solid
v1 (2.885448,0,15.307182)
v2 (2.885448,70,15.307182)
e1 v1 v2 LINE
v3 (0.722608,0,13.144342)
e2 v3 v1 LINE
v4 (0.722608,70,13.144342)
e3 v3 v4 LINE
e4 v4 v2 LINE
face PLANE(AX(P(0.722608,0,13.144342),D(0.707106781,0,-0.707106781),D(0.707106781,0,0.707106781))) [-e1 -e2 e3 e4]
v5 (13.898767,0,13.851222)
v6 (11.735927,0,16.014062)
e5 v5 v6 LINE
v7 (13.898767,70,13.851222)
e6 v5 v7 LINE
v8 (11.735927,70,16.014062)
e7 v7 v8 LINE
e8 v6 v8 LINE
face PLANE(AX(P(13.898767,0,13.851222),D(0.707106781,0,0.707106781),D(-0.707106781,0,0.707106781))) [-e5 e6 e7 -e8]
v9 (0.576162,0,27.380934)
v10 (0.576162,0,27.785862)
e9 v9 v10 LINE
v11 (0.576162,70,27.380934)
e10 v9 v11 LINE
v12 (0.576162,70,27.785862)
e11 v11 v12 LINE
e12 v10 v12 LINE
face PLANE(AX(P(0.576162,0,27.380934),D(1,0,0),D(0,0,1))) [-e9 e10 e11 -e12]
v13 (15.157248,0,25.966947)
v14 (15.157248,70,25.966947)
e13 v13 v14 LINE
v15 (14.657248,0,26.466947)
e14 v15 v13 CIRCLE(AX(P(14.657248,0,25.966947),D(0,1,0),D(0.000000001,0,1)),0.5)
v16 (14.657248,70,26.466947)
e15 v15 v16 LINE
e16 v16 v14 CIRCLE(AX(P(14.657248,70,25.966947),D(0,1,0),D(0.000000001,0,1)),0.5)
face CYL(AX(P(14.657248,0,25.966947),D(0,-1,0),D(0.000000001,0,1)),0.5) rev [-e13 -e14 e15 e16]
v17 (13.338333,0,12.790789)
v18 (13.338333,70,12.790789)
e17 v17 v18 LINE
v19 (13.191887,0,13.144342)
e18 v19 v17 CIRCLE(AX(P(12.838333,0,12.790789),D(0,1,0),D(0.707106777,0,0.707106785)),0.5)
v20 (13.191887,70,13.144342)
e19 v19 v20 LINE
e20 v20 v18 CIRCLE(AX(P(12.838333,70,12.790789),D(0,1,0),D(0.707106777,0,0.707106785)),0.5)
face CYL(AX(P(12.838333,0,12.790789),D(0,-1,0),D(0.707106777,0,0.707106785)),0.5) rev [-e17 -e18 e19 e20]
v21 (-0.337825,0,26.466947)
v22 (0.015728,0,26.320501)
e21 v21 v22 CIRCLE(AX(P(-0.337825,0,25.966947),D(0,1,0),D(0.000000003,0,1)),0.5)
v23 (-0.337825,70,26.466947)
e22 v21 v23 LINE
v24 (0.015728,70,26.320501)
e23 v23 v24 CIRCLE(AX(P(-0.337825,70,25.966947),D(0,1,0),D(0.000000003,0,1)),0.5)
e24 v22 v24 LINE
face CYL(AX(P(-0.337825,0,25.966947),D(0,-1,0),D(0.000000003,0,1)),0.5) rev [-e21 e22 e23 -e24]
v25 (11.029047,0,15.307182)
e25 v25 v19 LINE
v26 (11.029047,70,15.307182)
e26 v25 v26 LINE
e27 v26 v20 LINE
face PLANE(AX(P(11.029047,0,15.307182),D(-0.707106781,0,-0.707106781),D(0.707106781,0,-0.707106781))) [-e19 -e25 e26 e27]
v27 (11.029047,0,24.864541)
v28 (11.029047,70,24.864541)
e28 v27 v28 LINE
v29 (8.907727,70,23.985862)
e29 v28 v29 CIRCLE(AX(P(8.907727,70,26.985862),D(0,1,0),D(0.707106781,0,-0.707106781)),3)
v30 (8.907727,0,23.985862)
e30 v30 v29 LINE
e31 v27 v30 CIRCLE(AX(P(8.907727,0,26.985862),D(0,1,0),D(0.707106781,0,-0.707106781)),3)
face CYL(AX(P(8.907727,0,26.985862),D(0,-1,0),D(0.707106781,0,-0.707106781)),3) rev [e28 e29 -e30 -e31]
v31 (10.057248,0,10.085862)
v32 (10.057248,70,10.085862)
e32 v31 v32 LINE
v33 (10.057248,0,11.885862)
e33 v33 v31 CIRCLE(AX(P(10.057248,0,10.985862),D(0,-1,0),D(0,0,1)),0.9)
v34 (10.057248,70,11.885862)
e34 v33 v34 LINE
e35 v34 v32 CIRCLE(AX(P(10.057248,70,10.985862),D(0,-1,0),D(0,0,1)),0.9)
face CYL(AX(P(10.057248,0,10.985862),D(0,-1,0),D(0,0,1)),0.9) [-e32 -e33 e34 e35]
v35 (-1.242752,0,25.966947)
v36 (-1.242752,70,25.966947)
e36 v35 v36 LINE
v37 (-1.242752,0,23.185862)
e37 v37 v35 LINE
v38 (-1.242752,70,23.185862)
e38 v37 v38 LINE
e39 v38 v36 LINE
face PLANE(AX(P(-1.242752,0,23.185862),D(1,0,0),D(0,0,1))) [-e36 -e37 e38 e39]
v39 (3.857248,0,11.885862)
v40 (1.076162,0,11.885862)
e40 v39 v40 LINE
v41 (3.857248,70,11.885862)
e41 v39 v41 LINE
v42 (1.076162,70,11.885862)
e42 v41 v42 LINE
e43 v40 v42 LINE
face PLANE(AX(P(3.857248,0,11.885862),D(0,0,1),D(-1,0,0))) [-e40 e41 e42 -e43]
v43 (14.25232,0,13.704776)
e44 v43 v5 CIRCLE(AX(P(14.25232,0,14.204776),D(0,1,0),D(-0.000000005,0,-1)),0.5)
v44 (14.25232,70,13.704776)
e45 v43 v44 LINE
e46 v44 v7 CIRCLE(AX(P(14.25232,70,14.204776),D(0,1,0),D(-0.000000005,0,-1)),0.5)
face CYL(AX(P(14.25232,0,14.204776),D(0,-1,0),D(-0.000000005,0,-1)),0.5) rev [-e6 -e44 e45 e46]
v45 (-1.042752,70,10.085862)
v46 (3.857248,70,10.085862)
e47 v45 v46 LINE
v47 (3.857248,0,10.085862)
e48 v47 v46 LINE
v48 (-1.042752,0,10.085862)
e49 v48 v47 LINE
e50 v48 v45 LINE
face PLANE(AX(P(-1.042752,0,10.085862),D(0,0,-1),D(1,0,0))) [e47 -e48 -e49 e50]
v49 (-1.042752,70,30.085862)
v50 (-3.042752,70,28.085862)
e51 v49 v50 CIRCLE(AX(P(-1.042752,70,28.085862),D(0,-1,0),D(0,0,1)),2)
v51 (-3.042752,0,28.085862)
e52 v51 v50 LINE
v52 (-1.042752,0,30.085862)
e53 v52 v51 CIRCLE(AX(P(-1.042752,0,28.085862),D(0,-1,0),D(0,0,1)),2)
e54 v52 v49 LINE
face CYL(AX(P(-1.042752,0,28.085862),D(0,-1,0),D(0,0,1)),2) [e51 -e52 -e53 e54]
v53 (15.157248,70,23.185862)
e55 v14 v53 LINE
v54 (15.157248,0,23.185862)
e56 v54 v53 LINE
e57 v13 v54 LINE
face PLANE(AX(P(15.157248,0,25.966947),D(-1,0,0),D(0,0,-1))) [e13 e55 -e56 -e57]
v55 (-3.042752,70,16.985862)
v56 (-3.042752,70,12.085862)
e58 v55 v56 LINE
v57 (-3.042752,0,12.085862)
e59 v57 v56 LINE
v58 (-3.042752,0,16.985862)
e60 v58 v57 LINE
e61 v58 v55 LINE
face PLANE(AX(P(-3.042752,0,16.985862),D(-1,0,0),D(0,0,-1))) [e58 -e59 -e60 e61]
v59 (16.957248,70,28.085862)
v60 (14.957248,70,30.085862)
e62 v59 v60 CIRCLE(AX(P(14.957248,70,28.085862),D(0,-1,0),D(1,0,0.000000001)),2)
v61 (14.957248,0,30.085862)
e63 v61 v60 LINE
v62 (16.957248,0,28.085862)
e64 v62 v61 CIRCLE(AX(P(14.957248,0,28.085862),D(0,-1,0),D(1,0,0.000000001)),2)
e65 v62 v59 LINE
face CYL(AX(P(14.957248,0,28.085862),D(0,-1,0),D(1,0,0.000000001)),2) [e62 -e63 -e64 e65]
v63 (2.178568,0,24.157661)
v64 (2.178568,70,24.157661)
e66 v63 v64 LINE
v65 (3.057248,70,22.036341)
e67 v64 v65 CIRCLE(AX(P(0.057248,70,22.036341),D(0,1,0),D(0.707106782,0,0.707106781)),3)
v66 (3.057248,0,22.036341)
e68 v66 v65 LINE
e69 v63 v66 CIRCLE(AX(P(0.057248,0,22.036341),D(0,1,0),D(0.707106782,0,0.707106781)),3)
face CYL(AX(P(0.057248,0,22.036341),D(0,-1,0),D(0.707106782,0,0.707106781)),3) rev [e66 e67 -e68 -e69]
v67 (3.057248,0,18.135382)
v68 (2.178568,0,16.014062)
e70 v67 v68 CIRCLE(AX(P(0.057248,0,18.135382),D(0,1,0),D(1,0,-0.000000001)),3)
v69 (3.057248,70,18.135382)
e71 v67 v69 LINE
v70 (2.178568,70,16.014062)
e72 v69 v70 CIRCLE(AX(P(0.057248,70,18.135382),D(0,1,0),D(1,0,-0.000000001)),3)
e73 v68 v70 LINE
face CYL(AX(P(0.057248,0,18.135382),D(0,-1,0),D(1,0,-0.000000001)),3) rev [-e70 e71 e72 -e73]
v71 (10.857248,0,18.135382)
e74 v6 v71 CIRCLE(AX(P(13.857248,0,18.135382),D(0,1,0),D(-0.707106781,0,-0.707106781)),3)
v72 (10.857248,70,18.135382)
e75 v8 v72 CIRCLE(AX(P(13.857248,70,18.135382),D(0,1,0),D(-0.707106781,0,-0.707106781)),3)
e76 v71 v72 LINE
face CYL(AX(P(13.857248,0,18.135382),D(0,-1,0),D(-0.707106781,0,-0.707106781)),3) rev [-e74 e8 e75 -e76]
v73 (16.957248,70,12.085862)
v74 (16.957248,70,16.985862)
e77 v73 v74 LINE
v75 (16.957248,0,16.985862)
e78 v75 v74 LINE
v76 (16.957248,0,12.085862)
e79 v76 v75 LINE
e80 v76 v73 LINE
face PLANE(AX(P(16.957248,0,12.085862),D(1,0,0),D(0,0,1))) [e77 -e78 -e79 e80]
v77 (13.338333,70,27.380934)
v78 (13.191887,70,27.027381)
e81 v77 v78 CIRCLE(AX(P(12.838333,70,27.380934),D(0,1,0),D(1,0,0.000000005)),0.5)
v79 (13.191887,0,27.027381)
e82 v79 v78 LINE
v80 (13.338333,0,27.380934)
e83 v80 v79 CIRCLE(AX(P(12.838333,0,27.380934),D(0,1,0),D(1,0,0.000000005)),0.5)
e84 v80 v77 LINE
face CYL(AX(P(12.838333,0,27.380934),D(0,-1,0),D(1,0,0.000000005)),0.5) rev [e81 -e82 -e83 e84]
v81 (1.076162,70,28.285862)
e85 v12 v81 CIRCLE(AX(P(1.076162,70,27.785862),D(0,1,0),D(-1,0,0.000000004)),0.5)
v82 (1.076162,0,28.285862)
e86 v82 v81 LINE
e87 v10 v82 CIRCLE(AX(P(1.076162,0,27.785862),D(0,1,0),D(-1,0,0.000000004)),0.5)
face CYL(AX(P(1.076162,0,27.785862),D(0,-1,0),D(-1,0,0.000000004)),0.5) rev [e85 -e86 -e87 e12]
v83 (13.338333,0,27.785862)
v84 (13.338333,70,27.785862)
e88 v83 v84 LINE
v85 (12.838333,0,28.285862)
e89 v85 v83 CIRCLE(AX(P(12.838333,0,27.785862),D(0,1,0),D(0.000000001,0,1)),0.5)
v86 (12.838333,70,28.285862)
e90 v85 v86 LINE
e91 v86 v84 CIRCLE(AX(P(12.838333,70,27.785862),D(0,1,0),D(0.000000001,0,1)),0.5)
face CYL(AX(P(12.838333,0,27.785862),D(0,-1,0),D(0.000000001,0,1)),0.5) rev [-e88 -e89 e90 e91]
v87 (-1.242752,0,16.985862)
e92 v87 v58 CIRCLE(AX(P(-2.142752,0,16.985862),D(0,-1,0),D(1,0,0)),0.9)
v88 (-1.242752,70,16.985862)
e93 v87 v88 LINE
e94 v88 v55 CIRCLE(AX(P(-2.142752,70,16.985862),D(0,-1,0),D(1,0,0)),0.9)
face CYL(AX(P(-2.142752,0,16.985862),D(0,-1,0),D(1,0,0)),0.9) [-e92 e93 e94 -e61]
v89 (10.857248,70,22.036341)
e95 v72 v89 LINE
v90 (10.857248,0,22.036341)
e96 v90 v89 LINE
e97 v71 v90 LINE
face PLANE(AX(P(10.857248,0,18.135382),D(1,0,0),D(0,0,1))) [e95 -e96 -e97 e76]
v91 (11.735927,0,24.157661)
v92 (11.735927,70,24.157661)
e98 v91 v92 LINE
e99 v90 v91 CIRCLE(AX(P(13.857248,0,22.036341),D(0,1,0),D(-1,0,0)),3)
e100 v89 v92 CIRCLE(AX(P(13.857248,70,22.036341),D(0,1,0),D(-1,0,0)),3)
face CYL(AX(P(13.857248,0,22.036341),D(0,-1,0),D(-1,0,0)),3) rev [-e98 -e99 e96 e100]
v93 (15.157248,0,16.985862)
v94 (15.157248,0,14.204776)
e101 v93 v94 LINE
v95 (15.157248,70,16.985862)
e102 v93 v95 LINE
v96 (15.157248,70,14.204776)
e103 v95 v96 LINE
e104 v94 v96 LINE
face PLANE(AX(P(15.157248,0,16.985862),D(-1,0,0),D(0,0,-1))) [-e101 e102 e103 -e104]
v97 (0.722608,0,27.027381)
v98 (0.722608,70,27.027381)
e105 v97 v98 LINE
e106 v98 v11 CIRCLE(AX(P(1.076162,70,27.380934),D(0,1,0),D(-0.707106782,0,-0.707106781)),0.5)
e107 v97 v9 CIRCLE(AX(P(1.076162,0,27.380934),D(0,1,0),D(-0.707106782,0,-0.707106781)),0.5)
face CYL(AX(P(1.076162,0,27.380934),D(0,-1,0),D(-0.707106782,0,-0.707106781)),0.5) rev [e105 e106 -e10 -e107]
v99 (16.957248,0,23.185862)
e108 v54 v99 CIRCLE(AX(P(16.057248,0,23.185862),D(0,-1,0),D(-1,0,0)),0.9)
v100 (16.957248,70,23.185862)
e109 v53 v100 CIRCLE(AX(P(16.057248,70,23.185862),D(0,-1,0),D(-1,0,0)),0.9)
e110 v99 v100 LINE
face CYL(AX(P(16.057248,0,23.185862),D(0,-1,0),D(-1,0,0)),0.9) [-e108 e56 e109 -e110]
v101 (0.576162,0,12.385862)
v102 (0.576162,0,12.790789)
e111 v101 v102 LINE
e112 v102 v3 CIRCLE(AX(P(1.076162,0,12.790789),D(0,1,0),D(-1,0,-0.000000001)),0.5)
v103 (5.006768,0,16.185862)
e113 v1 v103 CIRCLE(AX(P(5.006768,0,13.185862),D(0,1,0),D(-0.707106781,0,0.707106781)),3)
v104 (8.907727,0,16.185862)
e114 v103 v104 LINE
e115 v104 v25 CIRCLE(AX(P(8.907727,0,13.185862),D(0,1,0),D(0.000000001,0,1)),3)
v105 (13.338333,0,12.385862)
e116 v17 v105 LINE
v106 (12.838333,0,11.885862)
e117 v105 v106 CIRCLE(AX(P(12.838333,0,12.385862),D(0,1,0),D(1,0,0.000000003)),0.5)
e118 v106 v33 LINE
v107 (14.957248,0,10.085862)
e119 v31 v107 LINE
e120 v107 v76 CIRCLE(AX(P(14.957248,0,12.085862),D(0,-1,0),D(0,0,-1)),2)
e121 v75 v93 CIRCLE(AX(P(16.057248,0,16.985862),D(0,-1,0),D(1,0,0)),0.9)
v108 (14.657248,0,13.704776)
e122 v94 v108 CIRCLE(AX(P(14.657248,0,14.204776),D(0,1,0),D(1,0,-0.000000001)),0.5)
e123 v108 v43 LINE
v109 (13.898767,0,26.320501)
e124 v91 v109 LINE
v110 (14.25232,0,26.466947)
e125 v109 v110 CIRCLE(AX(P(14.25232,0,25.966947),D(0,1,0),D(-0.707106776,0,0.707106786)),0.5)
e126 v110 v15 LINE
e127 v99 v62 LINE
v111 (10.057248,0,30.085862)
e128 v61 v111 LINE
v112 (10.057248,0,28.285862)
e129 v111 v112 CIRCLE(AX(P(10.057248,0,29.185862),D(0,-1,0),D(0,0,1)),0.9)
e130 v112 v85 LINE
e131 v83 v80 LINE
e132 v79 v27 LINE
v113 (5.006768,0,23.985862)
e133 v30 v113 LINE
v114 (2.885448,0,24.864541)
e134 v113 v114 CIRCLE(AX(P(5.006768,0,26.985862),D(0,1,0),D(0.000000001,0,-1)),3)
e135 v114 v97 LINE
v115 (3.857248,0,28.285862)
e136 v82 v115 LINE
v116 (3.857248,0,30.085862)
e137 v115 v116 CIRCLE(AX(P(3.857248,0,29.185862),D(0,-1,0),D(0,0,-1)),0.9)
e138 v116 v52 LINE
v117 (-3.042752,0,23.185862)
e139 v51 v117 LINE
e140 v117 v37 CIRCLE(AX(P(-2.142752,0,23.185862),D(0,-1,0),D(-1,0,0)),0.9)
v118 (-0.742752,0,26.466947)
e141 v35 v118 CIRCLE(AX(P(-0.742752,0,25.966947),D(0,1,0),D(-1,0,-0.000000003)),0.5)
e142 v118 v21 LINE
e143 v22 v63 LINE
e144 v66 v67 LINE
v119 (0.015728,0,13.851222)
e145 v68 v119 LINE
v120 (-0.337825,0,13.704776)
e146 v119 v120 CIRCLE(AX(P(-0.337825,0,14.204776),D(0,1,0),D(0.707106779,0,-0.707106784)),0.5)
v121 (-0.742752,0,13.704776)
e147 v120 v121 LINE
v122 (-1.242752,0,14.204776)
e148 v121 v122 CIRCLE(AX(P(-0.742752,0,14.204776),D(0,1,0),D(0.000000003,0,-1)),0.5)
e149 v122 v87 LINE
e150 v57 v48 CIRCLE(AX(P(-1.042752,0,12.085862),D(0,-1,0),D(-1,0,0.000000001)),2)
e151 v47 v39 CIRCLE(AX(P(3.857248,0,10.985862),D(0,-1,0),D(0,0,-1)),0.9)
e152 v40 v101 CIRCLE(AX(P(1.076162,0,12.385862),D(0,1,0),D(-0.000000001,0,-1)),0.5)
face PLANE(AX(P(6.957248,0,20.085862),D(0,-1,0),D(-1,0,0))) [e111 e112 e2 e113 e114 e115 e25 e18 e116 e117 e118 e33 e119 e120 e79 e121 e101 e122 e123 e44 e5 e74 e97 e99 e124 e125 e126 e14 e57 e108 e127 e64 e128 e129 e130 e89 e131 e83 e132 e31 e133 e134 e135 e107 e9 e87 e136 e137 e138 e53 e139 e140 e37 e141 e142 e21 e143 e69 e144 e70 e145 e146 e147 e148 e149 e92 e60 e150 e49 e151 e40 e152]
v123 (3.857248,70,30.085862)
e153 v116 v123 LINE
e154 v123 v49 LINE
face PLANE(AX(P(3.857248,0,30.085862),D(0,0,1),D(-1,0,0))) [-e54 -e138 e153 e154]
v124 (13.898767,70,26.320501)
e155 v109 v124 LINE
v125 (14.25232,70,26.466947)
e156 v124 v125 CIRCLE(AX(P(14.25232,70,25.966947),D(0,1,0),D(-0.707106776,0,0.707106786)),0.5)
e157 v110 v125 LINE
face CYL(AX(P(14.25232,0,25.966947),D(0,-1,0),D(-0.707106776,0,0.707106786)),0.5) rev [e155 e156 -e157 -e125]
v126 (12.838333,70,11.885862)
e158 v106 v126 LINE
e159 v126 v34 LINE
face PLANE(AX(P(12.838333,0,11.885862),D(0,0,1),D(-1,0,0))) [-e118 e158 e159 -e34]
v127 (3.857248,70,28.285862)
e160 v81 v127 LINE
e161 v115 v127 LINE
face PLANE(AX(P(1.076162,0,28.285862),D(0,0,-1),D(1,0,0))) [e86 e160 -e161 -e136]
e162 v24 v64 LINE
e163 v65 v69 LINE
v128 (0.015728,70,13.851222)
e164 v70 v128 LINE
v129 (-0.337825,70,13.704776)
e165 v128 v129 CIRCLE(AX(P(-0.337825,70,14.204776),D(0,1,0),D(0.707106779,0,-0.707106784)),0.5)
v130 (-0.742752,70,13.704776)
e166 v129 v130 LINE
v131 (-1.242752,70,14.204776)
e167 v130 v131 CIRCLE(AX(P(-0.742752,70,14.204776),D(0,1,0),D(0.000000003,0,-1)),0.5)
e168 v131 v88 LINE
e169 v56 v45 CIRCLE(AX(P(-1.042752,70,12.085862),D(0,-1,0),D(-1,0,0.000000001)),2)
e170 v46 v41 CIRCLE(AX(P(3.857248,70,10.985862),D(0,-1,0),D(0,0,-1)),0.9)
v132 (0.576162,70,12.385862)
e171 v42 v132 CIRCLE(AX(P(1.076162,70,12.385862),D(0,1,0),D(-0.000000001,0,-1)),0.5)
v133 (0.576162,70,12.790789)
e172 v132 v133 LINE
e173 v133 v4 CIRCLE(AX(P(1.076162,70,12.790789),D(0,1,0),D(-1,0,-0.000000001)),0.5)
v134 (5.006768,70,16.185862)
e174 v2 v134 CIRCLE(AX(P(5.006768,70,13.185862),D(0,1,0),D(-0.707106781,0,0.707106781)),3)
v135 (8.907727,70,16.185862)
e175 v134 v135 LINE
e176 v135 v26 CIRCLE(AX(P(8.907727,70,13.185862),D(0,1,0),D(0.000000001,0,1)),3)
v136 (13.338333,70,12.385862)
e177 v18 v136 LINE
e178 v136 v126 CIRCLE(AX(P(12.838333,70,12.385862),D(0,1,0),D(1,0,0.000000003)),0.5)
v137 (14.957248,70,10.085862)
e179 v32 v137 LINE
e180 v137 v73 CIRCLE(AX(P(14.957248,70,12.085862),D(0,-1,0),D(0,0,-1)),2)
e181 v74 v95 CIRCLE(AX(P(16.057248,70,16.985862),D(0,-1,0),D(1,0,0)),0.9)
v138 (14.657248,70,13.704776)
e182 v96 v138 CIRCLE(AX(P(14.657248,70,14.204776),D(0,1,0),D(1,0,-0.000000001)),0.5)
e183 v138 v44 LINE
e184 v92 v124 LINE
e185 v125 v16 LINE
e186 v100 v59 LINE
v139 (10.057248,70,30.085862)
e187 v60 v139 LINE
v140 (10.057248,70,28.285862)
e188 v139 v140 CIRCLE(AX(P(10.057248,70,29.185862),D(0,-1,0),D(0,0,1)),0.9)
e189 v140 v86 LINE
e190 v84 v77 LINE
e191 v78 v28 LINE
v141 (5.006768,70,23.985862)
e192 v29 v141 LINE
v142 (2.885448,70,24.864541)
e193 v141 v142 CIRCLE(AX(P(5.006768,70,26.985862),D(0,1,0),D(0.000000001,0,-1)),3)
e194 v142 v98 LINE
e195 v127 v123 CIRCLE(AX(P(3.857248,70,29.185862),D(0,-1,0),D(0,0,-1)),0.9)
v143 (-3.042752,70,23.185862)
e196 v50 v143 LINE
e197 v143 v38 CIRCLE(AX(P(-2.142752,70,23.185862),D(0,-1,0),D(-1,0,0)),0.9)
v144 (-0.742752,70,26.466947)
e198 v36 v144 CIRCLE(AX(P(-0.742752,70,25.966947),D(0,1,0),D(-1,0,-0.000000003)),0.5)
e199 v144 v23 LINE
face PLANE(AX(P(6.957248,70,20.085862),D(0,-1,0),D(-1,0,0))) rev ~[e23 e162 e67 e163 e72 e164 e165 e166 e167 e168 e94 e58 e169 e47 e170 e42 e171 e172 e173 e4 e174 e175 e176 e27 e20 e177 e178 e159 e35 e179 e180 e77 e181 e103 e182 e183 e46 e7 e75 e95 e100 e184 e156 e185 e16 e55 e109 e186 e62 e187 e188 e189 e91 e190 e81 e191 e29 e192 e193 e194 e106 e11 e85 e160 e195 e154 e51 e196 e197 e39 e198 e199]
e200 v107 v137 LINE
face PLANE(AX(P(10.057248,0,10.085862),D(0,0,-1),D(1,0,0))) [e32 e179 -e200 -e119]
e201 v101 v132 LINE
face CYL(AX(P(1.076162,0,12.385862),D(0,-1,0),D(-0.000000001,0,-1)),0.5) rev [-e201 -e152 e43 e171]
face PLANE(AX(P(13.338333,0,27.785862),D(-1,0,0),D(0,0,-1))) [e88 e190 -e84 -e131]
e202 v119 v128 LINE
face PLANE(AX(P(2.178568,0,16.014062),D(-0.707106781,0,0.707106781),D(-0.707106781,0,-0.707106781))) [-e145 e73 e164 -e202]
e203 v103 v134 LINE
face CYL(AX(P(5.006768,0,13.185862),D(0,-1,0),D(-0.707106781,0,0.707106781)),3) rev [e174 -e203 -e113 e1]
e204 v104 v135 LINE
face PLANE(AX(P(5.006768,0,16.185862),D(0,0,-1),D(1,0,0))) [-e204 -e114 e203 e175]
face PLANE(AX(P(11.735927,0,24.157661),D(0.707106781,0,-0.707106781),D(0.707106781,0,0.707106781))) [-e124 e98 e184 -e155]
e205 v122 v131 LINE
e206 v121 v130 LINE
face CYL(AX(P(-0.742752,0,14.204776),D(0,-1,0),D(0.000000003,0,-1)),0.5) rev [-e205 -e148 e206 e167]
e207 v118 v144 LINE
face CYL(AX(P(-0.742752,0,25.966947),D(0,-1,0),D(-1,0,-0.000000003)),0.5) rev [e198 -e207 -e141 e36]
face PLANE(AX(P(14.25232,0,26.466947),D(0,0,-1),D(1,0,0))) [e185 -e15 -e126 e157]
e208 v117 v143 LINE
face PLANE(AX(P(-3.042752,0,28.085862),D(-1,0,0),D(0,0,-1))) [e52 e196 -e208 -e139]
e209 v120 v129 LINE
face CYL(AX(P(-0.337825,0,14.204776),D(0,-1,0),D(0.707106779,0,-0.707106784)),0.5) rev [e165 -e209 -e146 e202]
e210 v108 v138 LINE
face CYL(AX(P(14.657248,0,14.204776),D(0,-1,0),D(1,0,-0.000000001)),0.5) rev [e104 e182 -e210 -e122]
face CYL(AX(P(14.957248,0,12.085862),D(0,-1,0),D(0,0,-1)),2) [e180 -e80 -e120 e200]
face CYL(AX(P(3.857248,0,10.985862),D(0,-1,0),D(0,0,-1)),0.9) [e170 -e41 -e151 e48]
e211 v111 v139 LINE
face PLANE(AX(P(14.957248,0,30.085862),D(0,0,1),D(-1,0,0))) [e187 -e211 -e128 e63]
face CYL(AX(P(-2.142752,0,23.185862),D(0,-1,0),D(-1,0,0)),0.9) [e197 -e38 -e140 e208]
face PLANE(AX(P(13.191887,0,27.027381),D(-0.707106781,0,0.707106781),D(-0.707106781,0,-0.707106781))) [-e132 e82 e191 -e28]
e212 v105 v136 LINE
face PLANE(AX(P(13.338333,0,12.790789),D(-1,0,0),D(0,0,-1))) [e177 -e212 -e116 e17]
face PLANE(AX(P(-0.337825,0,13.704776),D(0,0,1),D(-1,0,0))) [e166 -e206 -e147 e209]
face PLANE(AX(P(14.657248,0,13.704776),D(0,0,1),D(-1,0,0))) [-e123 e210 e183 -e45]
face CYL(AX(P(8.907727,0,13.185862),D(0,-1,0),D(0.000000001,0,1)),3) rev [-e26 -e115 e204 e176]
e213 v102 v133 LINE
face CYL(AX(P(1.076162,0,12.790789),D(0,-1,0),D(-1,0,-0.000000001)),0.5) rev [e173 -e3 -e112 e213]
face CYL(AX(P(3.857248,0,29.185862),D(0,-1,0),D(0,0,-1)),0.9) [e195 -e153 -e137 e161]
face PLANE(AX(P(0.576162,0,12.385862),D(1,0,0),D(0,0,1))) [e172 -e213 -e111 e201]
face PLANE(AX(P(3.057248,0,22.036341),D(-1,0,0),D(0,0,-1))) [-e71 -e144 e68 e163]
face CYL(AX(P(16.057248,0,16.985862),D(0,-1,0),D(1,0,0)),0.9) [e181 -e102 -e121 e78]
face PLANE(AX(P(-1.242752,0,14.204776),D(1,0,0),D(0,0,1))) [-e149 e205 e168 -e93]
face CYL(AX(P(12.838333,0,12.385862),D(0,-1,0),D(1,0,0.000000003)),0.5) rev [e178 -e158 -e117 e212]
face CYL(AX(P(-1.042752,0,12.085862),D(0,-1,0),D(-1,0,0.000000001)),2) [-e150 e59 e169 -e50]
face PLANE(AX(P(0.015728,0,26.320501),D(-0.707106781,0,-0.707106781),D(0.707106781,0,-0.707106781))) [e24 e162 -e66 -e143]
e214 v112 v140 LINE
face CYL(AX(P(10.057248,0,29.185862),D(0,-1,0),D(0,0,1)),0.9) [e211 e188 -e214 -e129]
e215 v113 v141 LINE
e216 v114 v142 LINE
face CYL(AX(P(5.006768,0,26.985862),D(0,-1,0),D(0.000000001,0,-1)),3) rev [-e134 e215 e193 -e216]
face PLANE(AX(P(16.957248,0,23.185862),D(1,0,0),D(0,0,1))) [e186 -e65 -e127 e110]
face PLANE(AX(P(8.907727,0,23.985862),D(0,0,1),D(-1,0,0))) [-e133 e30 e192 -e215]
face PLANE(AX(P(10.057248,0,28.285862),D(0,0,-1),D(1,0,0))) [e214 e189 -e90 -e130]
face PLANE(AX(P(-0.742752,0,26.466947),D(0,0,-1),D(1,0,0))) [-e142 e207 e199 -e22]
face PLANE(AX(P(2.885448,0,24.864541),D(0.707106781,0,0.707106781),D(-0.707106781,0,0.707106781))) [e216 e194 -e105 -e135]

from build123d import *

# Parameters (mm, degrees)
EXTRUDE_1_DEPTH = 70


with BuildPart() as part:
    # 草图1 → 凸台-拉伸1 (new body)
    with BuildSketch(Plane(origin=(0, 0, 0), x_dir=(1, 0, 0), z_dir=(0, 1, 0))):
        with BuildLine():
            Line((-1.042752475, -10.085861632), (3.857247525, -10.085861632))
            ThreePointArc((3.857247525, -10.085861632), (4.757247525, -10.985861632), (3.857247525, -11.885861632))
            Line((3.857247525, -11.885861632), (1.076161722, -11.885861632))
            ThreePointArc((1.076161722, -11.885861632), (0.722608332, -12.032308241), (0.576161722, -12.385861632))
            Line((0.576161722, -12.385861632), (0.576161722, -12.790788968))
            ThreePointArc((0.576161722, -12.790788968), (0.614221956, -12.982130685), (0.722608332, -13.144342359))
            Line((0.722608332, -13.144342359), (2.885447948, -15.307181975))
            ThreePointArc((2.885447948, -15.307181975), (3.858717994, -15.957500229), (5.006768291, -16.185861632))
            Line((5.006768291, -16.185861632), (8.907726758, -16.185861632))
            ThreePointArc((8.907726758, -16.185861632), (10.055777055, -15.957500229), (11.029047102, -15.307181975))
            Line((11.029047102, -15.307181975), (13.191886718, -13.144342359))
            ThreePointArc((13.191886718, -13.144342359), (13.300273094, -12.982130685), (13.338333327, -12.790788968))
            Line((13.338333327, -12.790788968), (13.338333327, -12.385861632))
            ThreePointArc((13.338333327, -12.385861632), (13.191886718, -12.032308241), (12.838333327, -11.885861632))
            Line((12.838333327, -11.885861632), (10.057247525, -11.885861632))
            ThreePointArc((10.057247525, -11.885861632), (9.157247525, -10.985861632), (10.057247525, -10.085861632))
            Line((10.057247525, -10.085861632), (14.957247525, -10.085861632))
            ThreePointArc((14.957247525, -10.085861632), (16.371461087, -10.671648069), (16.957247525, -12.085861632))
            Line((16.957247525, -12.085861632), (16.957247525, -16.985861632))
            ThreePointArc((16.957247525, -16.985861632), (16.057247525, -17.885861632), (15.157247525, -16.985861632))
            Line((15.157247525, -16.985861632), (15.157247525, -14.204775829))
            ThreePointArc((15.157247525, -14.204775829), (15.010800915, -13.851222438), (14.657247525, -13.704775829))
            Line((14.657247525, -13.704775829), (14.252320188, -13.704775829))
            ThreePointArc((14.252320188, -13.704775829), (14.060978472, -13.742836063), (13.898766797, -13.851222438))
            Line((13.898766797, -13.851222438), (11.735927181, -16.014062054))
            ThreePointArc((11.735927181, -16.014062054), (11.085608927, -16.987332101), (10.857247525, -18.135382398))
            Line((10.857247525, -18.135382398), (10.857247525, -22.036340865))
            ThreePointArc((10.857247525, -22.036340865), (11.085608927, -23.184391162), (11.735927181, -24.157661209))
            Line((11.735927181, -24.157661209), (13.898766797, -26.320500825))
            ThreePointArc((13.898766797, -26.320500825), (14.060978472, -26.4288872), (14.252320188, -26.466947434))
            Line((14.252320188, -26.466947434), (14.657247525, -26.466947434))
            ThreePointArc((14.657247525, -26.466947434), (15.010800915, -26.320500825), (15.157247525, -25.966947434))
            Line((15.157247525, -25.966947434), (15.157247525, -23.185861632))
            ThreePointArc((15.157247525, -23.185861632), (16.057247525, -22.285861632), (16.957247525, -23.185861632))
            Line((16.957247525, -23.185861632), (16.957247525, -28.085861632))
            ThreePointArc((16.957247525, -28.085861632), (16.371461087, -29.500075194), (14.957247525, -30.085861632))
            Line((14.957247525, -30.085861632), (10.057247525, -30.085861632))
            ThreePointArc((10.057247525, -30.085861632), (9.157247525, -29.185861632), (10.057247525, -28.285861632))
            Line((10.057247525, -28.285861632), (12.838333327, -28.285861632))
            ThreePointArc((12.838333327, -28.285861632), (13.191886718, -28.139415022), (13.338333327, -27.785861632))
            Line((13.338333327, -27.785861632), (13.338333327, -27.380934295))
            ThreePointArc((13.338333327, -27.380934295), (13.300273094, -27.189592579), (13.191886718, -27.027380904))
            Line((13.191886718, -27.027380904), (11.029047102, -24.864541288))
            ThreePointArc((11.029047102, -24.864541288), (10.055777055, -24.214223034), (8.907726758, -23.985861632))
            Line((8.907726758, -23.985861632), (5.006768291, -23.985861632))
            ThreePointArc((5.006768291, -23.985861632), (3.858717994, -24.214223034), (2.885447948, -24.864541288))
            Line((2.885447948, -24.864541288), (0.722608332, -27.027380904))
            ThreePointArc((0.722608332, -27.027380904), (0.614221956, -27.189592579), (0.576161722, -27.380934295))
            Line((0.576161722, -27.380934295), (0.576161722, -27.785861632))
            ThreePointArc((0.576161722, -27.785861632), (0.722608332, -28.139415022), (1.076161722, -28.285861632))
            Line((1.076161722, -28.285861632), (3.857247525, -28.285861632))
            ThreePointArc((3.857247525, -28.285861632), (4.757247525, -29.185861632), (3.857247525, -30.085861632))
            Line((3.857247525, -30.085861632), (-1.042752475, -30.085861632))
            ThreePointArc((-1.042752475, -30.085861632), (-2.456966038, -29.500075194), (-3.042752475, -28.085861632))
            Line((-3.042752475, -28.085861632), (-3.042752475, -23.185861632))
            ThreePointArc((-3.042752475, -23.185861632), (-2.142752475, -22.285861632), (-1.242752475, -23.185861632))
            Line((-1.242752475, -23.185861632), (-1.242752475, -25.966947434))
            ThreePointArc((-1.242752475, -25.966947434), (-1.096305866, -26.320500825), (-0.742752475, -26.466947434))
            Line((-0.742752475, -26.466947434), (-0.337825138, -26.466947434))
            ThreePointArc((-0.337825138, -26.466947434), (-0.146483422, -26.4288872), (0.015728252, -26.320500825))
            Line((0.015728252, -26.320500825), (2.178567868, -24.157661209))
            ThreePointArc((2.178567868, -24.157661209), (2.828886122, -23.184391162), (3.057247525, -22.036340865))
            Line((3.057247525, -22.036340865), (3.057247525, -18.135382398))
            ThreePointArc((3.057247525, -18.135382398), (2.828886122, -16.987332101), (2.178567868, -16.014062054))
            Line((2.178567868, -16.014062054), (0.015728252, -13.851222438))
            ThreePointArc((0.015728252, -13.851222438), (-0.146483422, -13.742836063), (-0.337825138, -13.704775829))
            Line((-0.337825138, -13.704775829), (-0.742752475, -13.704775829))
            ThreePointArc((-0.742752475, -13.704775829), (-1.096305866, -13.851222438), (-1.242752475, -14.204775829))
            Line((-1.242752475, -14.204775829), (-1.242752475, -16.985861632))
            ThreePointArc((-1.242752475, -16.985861632), (-2.142752475, -17.885861632), (-3.042752475, -16.985861632))
            Line((-3.042752475, -16.985861632), (-3.042752475, -12.085861632))
            ThreePointArc((-3.042752475, -12.085861632), (-2.456966038, -10.671648069), (-1.042752475, -10.085861632))
        make_face()
    extrude(amount=EXTRUDE_1_DEPTH)


solid = part.part
